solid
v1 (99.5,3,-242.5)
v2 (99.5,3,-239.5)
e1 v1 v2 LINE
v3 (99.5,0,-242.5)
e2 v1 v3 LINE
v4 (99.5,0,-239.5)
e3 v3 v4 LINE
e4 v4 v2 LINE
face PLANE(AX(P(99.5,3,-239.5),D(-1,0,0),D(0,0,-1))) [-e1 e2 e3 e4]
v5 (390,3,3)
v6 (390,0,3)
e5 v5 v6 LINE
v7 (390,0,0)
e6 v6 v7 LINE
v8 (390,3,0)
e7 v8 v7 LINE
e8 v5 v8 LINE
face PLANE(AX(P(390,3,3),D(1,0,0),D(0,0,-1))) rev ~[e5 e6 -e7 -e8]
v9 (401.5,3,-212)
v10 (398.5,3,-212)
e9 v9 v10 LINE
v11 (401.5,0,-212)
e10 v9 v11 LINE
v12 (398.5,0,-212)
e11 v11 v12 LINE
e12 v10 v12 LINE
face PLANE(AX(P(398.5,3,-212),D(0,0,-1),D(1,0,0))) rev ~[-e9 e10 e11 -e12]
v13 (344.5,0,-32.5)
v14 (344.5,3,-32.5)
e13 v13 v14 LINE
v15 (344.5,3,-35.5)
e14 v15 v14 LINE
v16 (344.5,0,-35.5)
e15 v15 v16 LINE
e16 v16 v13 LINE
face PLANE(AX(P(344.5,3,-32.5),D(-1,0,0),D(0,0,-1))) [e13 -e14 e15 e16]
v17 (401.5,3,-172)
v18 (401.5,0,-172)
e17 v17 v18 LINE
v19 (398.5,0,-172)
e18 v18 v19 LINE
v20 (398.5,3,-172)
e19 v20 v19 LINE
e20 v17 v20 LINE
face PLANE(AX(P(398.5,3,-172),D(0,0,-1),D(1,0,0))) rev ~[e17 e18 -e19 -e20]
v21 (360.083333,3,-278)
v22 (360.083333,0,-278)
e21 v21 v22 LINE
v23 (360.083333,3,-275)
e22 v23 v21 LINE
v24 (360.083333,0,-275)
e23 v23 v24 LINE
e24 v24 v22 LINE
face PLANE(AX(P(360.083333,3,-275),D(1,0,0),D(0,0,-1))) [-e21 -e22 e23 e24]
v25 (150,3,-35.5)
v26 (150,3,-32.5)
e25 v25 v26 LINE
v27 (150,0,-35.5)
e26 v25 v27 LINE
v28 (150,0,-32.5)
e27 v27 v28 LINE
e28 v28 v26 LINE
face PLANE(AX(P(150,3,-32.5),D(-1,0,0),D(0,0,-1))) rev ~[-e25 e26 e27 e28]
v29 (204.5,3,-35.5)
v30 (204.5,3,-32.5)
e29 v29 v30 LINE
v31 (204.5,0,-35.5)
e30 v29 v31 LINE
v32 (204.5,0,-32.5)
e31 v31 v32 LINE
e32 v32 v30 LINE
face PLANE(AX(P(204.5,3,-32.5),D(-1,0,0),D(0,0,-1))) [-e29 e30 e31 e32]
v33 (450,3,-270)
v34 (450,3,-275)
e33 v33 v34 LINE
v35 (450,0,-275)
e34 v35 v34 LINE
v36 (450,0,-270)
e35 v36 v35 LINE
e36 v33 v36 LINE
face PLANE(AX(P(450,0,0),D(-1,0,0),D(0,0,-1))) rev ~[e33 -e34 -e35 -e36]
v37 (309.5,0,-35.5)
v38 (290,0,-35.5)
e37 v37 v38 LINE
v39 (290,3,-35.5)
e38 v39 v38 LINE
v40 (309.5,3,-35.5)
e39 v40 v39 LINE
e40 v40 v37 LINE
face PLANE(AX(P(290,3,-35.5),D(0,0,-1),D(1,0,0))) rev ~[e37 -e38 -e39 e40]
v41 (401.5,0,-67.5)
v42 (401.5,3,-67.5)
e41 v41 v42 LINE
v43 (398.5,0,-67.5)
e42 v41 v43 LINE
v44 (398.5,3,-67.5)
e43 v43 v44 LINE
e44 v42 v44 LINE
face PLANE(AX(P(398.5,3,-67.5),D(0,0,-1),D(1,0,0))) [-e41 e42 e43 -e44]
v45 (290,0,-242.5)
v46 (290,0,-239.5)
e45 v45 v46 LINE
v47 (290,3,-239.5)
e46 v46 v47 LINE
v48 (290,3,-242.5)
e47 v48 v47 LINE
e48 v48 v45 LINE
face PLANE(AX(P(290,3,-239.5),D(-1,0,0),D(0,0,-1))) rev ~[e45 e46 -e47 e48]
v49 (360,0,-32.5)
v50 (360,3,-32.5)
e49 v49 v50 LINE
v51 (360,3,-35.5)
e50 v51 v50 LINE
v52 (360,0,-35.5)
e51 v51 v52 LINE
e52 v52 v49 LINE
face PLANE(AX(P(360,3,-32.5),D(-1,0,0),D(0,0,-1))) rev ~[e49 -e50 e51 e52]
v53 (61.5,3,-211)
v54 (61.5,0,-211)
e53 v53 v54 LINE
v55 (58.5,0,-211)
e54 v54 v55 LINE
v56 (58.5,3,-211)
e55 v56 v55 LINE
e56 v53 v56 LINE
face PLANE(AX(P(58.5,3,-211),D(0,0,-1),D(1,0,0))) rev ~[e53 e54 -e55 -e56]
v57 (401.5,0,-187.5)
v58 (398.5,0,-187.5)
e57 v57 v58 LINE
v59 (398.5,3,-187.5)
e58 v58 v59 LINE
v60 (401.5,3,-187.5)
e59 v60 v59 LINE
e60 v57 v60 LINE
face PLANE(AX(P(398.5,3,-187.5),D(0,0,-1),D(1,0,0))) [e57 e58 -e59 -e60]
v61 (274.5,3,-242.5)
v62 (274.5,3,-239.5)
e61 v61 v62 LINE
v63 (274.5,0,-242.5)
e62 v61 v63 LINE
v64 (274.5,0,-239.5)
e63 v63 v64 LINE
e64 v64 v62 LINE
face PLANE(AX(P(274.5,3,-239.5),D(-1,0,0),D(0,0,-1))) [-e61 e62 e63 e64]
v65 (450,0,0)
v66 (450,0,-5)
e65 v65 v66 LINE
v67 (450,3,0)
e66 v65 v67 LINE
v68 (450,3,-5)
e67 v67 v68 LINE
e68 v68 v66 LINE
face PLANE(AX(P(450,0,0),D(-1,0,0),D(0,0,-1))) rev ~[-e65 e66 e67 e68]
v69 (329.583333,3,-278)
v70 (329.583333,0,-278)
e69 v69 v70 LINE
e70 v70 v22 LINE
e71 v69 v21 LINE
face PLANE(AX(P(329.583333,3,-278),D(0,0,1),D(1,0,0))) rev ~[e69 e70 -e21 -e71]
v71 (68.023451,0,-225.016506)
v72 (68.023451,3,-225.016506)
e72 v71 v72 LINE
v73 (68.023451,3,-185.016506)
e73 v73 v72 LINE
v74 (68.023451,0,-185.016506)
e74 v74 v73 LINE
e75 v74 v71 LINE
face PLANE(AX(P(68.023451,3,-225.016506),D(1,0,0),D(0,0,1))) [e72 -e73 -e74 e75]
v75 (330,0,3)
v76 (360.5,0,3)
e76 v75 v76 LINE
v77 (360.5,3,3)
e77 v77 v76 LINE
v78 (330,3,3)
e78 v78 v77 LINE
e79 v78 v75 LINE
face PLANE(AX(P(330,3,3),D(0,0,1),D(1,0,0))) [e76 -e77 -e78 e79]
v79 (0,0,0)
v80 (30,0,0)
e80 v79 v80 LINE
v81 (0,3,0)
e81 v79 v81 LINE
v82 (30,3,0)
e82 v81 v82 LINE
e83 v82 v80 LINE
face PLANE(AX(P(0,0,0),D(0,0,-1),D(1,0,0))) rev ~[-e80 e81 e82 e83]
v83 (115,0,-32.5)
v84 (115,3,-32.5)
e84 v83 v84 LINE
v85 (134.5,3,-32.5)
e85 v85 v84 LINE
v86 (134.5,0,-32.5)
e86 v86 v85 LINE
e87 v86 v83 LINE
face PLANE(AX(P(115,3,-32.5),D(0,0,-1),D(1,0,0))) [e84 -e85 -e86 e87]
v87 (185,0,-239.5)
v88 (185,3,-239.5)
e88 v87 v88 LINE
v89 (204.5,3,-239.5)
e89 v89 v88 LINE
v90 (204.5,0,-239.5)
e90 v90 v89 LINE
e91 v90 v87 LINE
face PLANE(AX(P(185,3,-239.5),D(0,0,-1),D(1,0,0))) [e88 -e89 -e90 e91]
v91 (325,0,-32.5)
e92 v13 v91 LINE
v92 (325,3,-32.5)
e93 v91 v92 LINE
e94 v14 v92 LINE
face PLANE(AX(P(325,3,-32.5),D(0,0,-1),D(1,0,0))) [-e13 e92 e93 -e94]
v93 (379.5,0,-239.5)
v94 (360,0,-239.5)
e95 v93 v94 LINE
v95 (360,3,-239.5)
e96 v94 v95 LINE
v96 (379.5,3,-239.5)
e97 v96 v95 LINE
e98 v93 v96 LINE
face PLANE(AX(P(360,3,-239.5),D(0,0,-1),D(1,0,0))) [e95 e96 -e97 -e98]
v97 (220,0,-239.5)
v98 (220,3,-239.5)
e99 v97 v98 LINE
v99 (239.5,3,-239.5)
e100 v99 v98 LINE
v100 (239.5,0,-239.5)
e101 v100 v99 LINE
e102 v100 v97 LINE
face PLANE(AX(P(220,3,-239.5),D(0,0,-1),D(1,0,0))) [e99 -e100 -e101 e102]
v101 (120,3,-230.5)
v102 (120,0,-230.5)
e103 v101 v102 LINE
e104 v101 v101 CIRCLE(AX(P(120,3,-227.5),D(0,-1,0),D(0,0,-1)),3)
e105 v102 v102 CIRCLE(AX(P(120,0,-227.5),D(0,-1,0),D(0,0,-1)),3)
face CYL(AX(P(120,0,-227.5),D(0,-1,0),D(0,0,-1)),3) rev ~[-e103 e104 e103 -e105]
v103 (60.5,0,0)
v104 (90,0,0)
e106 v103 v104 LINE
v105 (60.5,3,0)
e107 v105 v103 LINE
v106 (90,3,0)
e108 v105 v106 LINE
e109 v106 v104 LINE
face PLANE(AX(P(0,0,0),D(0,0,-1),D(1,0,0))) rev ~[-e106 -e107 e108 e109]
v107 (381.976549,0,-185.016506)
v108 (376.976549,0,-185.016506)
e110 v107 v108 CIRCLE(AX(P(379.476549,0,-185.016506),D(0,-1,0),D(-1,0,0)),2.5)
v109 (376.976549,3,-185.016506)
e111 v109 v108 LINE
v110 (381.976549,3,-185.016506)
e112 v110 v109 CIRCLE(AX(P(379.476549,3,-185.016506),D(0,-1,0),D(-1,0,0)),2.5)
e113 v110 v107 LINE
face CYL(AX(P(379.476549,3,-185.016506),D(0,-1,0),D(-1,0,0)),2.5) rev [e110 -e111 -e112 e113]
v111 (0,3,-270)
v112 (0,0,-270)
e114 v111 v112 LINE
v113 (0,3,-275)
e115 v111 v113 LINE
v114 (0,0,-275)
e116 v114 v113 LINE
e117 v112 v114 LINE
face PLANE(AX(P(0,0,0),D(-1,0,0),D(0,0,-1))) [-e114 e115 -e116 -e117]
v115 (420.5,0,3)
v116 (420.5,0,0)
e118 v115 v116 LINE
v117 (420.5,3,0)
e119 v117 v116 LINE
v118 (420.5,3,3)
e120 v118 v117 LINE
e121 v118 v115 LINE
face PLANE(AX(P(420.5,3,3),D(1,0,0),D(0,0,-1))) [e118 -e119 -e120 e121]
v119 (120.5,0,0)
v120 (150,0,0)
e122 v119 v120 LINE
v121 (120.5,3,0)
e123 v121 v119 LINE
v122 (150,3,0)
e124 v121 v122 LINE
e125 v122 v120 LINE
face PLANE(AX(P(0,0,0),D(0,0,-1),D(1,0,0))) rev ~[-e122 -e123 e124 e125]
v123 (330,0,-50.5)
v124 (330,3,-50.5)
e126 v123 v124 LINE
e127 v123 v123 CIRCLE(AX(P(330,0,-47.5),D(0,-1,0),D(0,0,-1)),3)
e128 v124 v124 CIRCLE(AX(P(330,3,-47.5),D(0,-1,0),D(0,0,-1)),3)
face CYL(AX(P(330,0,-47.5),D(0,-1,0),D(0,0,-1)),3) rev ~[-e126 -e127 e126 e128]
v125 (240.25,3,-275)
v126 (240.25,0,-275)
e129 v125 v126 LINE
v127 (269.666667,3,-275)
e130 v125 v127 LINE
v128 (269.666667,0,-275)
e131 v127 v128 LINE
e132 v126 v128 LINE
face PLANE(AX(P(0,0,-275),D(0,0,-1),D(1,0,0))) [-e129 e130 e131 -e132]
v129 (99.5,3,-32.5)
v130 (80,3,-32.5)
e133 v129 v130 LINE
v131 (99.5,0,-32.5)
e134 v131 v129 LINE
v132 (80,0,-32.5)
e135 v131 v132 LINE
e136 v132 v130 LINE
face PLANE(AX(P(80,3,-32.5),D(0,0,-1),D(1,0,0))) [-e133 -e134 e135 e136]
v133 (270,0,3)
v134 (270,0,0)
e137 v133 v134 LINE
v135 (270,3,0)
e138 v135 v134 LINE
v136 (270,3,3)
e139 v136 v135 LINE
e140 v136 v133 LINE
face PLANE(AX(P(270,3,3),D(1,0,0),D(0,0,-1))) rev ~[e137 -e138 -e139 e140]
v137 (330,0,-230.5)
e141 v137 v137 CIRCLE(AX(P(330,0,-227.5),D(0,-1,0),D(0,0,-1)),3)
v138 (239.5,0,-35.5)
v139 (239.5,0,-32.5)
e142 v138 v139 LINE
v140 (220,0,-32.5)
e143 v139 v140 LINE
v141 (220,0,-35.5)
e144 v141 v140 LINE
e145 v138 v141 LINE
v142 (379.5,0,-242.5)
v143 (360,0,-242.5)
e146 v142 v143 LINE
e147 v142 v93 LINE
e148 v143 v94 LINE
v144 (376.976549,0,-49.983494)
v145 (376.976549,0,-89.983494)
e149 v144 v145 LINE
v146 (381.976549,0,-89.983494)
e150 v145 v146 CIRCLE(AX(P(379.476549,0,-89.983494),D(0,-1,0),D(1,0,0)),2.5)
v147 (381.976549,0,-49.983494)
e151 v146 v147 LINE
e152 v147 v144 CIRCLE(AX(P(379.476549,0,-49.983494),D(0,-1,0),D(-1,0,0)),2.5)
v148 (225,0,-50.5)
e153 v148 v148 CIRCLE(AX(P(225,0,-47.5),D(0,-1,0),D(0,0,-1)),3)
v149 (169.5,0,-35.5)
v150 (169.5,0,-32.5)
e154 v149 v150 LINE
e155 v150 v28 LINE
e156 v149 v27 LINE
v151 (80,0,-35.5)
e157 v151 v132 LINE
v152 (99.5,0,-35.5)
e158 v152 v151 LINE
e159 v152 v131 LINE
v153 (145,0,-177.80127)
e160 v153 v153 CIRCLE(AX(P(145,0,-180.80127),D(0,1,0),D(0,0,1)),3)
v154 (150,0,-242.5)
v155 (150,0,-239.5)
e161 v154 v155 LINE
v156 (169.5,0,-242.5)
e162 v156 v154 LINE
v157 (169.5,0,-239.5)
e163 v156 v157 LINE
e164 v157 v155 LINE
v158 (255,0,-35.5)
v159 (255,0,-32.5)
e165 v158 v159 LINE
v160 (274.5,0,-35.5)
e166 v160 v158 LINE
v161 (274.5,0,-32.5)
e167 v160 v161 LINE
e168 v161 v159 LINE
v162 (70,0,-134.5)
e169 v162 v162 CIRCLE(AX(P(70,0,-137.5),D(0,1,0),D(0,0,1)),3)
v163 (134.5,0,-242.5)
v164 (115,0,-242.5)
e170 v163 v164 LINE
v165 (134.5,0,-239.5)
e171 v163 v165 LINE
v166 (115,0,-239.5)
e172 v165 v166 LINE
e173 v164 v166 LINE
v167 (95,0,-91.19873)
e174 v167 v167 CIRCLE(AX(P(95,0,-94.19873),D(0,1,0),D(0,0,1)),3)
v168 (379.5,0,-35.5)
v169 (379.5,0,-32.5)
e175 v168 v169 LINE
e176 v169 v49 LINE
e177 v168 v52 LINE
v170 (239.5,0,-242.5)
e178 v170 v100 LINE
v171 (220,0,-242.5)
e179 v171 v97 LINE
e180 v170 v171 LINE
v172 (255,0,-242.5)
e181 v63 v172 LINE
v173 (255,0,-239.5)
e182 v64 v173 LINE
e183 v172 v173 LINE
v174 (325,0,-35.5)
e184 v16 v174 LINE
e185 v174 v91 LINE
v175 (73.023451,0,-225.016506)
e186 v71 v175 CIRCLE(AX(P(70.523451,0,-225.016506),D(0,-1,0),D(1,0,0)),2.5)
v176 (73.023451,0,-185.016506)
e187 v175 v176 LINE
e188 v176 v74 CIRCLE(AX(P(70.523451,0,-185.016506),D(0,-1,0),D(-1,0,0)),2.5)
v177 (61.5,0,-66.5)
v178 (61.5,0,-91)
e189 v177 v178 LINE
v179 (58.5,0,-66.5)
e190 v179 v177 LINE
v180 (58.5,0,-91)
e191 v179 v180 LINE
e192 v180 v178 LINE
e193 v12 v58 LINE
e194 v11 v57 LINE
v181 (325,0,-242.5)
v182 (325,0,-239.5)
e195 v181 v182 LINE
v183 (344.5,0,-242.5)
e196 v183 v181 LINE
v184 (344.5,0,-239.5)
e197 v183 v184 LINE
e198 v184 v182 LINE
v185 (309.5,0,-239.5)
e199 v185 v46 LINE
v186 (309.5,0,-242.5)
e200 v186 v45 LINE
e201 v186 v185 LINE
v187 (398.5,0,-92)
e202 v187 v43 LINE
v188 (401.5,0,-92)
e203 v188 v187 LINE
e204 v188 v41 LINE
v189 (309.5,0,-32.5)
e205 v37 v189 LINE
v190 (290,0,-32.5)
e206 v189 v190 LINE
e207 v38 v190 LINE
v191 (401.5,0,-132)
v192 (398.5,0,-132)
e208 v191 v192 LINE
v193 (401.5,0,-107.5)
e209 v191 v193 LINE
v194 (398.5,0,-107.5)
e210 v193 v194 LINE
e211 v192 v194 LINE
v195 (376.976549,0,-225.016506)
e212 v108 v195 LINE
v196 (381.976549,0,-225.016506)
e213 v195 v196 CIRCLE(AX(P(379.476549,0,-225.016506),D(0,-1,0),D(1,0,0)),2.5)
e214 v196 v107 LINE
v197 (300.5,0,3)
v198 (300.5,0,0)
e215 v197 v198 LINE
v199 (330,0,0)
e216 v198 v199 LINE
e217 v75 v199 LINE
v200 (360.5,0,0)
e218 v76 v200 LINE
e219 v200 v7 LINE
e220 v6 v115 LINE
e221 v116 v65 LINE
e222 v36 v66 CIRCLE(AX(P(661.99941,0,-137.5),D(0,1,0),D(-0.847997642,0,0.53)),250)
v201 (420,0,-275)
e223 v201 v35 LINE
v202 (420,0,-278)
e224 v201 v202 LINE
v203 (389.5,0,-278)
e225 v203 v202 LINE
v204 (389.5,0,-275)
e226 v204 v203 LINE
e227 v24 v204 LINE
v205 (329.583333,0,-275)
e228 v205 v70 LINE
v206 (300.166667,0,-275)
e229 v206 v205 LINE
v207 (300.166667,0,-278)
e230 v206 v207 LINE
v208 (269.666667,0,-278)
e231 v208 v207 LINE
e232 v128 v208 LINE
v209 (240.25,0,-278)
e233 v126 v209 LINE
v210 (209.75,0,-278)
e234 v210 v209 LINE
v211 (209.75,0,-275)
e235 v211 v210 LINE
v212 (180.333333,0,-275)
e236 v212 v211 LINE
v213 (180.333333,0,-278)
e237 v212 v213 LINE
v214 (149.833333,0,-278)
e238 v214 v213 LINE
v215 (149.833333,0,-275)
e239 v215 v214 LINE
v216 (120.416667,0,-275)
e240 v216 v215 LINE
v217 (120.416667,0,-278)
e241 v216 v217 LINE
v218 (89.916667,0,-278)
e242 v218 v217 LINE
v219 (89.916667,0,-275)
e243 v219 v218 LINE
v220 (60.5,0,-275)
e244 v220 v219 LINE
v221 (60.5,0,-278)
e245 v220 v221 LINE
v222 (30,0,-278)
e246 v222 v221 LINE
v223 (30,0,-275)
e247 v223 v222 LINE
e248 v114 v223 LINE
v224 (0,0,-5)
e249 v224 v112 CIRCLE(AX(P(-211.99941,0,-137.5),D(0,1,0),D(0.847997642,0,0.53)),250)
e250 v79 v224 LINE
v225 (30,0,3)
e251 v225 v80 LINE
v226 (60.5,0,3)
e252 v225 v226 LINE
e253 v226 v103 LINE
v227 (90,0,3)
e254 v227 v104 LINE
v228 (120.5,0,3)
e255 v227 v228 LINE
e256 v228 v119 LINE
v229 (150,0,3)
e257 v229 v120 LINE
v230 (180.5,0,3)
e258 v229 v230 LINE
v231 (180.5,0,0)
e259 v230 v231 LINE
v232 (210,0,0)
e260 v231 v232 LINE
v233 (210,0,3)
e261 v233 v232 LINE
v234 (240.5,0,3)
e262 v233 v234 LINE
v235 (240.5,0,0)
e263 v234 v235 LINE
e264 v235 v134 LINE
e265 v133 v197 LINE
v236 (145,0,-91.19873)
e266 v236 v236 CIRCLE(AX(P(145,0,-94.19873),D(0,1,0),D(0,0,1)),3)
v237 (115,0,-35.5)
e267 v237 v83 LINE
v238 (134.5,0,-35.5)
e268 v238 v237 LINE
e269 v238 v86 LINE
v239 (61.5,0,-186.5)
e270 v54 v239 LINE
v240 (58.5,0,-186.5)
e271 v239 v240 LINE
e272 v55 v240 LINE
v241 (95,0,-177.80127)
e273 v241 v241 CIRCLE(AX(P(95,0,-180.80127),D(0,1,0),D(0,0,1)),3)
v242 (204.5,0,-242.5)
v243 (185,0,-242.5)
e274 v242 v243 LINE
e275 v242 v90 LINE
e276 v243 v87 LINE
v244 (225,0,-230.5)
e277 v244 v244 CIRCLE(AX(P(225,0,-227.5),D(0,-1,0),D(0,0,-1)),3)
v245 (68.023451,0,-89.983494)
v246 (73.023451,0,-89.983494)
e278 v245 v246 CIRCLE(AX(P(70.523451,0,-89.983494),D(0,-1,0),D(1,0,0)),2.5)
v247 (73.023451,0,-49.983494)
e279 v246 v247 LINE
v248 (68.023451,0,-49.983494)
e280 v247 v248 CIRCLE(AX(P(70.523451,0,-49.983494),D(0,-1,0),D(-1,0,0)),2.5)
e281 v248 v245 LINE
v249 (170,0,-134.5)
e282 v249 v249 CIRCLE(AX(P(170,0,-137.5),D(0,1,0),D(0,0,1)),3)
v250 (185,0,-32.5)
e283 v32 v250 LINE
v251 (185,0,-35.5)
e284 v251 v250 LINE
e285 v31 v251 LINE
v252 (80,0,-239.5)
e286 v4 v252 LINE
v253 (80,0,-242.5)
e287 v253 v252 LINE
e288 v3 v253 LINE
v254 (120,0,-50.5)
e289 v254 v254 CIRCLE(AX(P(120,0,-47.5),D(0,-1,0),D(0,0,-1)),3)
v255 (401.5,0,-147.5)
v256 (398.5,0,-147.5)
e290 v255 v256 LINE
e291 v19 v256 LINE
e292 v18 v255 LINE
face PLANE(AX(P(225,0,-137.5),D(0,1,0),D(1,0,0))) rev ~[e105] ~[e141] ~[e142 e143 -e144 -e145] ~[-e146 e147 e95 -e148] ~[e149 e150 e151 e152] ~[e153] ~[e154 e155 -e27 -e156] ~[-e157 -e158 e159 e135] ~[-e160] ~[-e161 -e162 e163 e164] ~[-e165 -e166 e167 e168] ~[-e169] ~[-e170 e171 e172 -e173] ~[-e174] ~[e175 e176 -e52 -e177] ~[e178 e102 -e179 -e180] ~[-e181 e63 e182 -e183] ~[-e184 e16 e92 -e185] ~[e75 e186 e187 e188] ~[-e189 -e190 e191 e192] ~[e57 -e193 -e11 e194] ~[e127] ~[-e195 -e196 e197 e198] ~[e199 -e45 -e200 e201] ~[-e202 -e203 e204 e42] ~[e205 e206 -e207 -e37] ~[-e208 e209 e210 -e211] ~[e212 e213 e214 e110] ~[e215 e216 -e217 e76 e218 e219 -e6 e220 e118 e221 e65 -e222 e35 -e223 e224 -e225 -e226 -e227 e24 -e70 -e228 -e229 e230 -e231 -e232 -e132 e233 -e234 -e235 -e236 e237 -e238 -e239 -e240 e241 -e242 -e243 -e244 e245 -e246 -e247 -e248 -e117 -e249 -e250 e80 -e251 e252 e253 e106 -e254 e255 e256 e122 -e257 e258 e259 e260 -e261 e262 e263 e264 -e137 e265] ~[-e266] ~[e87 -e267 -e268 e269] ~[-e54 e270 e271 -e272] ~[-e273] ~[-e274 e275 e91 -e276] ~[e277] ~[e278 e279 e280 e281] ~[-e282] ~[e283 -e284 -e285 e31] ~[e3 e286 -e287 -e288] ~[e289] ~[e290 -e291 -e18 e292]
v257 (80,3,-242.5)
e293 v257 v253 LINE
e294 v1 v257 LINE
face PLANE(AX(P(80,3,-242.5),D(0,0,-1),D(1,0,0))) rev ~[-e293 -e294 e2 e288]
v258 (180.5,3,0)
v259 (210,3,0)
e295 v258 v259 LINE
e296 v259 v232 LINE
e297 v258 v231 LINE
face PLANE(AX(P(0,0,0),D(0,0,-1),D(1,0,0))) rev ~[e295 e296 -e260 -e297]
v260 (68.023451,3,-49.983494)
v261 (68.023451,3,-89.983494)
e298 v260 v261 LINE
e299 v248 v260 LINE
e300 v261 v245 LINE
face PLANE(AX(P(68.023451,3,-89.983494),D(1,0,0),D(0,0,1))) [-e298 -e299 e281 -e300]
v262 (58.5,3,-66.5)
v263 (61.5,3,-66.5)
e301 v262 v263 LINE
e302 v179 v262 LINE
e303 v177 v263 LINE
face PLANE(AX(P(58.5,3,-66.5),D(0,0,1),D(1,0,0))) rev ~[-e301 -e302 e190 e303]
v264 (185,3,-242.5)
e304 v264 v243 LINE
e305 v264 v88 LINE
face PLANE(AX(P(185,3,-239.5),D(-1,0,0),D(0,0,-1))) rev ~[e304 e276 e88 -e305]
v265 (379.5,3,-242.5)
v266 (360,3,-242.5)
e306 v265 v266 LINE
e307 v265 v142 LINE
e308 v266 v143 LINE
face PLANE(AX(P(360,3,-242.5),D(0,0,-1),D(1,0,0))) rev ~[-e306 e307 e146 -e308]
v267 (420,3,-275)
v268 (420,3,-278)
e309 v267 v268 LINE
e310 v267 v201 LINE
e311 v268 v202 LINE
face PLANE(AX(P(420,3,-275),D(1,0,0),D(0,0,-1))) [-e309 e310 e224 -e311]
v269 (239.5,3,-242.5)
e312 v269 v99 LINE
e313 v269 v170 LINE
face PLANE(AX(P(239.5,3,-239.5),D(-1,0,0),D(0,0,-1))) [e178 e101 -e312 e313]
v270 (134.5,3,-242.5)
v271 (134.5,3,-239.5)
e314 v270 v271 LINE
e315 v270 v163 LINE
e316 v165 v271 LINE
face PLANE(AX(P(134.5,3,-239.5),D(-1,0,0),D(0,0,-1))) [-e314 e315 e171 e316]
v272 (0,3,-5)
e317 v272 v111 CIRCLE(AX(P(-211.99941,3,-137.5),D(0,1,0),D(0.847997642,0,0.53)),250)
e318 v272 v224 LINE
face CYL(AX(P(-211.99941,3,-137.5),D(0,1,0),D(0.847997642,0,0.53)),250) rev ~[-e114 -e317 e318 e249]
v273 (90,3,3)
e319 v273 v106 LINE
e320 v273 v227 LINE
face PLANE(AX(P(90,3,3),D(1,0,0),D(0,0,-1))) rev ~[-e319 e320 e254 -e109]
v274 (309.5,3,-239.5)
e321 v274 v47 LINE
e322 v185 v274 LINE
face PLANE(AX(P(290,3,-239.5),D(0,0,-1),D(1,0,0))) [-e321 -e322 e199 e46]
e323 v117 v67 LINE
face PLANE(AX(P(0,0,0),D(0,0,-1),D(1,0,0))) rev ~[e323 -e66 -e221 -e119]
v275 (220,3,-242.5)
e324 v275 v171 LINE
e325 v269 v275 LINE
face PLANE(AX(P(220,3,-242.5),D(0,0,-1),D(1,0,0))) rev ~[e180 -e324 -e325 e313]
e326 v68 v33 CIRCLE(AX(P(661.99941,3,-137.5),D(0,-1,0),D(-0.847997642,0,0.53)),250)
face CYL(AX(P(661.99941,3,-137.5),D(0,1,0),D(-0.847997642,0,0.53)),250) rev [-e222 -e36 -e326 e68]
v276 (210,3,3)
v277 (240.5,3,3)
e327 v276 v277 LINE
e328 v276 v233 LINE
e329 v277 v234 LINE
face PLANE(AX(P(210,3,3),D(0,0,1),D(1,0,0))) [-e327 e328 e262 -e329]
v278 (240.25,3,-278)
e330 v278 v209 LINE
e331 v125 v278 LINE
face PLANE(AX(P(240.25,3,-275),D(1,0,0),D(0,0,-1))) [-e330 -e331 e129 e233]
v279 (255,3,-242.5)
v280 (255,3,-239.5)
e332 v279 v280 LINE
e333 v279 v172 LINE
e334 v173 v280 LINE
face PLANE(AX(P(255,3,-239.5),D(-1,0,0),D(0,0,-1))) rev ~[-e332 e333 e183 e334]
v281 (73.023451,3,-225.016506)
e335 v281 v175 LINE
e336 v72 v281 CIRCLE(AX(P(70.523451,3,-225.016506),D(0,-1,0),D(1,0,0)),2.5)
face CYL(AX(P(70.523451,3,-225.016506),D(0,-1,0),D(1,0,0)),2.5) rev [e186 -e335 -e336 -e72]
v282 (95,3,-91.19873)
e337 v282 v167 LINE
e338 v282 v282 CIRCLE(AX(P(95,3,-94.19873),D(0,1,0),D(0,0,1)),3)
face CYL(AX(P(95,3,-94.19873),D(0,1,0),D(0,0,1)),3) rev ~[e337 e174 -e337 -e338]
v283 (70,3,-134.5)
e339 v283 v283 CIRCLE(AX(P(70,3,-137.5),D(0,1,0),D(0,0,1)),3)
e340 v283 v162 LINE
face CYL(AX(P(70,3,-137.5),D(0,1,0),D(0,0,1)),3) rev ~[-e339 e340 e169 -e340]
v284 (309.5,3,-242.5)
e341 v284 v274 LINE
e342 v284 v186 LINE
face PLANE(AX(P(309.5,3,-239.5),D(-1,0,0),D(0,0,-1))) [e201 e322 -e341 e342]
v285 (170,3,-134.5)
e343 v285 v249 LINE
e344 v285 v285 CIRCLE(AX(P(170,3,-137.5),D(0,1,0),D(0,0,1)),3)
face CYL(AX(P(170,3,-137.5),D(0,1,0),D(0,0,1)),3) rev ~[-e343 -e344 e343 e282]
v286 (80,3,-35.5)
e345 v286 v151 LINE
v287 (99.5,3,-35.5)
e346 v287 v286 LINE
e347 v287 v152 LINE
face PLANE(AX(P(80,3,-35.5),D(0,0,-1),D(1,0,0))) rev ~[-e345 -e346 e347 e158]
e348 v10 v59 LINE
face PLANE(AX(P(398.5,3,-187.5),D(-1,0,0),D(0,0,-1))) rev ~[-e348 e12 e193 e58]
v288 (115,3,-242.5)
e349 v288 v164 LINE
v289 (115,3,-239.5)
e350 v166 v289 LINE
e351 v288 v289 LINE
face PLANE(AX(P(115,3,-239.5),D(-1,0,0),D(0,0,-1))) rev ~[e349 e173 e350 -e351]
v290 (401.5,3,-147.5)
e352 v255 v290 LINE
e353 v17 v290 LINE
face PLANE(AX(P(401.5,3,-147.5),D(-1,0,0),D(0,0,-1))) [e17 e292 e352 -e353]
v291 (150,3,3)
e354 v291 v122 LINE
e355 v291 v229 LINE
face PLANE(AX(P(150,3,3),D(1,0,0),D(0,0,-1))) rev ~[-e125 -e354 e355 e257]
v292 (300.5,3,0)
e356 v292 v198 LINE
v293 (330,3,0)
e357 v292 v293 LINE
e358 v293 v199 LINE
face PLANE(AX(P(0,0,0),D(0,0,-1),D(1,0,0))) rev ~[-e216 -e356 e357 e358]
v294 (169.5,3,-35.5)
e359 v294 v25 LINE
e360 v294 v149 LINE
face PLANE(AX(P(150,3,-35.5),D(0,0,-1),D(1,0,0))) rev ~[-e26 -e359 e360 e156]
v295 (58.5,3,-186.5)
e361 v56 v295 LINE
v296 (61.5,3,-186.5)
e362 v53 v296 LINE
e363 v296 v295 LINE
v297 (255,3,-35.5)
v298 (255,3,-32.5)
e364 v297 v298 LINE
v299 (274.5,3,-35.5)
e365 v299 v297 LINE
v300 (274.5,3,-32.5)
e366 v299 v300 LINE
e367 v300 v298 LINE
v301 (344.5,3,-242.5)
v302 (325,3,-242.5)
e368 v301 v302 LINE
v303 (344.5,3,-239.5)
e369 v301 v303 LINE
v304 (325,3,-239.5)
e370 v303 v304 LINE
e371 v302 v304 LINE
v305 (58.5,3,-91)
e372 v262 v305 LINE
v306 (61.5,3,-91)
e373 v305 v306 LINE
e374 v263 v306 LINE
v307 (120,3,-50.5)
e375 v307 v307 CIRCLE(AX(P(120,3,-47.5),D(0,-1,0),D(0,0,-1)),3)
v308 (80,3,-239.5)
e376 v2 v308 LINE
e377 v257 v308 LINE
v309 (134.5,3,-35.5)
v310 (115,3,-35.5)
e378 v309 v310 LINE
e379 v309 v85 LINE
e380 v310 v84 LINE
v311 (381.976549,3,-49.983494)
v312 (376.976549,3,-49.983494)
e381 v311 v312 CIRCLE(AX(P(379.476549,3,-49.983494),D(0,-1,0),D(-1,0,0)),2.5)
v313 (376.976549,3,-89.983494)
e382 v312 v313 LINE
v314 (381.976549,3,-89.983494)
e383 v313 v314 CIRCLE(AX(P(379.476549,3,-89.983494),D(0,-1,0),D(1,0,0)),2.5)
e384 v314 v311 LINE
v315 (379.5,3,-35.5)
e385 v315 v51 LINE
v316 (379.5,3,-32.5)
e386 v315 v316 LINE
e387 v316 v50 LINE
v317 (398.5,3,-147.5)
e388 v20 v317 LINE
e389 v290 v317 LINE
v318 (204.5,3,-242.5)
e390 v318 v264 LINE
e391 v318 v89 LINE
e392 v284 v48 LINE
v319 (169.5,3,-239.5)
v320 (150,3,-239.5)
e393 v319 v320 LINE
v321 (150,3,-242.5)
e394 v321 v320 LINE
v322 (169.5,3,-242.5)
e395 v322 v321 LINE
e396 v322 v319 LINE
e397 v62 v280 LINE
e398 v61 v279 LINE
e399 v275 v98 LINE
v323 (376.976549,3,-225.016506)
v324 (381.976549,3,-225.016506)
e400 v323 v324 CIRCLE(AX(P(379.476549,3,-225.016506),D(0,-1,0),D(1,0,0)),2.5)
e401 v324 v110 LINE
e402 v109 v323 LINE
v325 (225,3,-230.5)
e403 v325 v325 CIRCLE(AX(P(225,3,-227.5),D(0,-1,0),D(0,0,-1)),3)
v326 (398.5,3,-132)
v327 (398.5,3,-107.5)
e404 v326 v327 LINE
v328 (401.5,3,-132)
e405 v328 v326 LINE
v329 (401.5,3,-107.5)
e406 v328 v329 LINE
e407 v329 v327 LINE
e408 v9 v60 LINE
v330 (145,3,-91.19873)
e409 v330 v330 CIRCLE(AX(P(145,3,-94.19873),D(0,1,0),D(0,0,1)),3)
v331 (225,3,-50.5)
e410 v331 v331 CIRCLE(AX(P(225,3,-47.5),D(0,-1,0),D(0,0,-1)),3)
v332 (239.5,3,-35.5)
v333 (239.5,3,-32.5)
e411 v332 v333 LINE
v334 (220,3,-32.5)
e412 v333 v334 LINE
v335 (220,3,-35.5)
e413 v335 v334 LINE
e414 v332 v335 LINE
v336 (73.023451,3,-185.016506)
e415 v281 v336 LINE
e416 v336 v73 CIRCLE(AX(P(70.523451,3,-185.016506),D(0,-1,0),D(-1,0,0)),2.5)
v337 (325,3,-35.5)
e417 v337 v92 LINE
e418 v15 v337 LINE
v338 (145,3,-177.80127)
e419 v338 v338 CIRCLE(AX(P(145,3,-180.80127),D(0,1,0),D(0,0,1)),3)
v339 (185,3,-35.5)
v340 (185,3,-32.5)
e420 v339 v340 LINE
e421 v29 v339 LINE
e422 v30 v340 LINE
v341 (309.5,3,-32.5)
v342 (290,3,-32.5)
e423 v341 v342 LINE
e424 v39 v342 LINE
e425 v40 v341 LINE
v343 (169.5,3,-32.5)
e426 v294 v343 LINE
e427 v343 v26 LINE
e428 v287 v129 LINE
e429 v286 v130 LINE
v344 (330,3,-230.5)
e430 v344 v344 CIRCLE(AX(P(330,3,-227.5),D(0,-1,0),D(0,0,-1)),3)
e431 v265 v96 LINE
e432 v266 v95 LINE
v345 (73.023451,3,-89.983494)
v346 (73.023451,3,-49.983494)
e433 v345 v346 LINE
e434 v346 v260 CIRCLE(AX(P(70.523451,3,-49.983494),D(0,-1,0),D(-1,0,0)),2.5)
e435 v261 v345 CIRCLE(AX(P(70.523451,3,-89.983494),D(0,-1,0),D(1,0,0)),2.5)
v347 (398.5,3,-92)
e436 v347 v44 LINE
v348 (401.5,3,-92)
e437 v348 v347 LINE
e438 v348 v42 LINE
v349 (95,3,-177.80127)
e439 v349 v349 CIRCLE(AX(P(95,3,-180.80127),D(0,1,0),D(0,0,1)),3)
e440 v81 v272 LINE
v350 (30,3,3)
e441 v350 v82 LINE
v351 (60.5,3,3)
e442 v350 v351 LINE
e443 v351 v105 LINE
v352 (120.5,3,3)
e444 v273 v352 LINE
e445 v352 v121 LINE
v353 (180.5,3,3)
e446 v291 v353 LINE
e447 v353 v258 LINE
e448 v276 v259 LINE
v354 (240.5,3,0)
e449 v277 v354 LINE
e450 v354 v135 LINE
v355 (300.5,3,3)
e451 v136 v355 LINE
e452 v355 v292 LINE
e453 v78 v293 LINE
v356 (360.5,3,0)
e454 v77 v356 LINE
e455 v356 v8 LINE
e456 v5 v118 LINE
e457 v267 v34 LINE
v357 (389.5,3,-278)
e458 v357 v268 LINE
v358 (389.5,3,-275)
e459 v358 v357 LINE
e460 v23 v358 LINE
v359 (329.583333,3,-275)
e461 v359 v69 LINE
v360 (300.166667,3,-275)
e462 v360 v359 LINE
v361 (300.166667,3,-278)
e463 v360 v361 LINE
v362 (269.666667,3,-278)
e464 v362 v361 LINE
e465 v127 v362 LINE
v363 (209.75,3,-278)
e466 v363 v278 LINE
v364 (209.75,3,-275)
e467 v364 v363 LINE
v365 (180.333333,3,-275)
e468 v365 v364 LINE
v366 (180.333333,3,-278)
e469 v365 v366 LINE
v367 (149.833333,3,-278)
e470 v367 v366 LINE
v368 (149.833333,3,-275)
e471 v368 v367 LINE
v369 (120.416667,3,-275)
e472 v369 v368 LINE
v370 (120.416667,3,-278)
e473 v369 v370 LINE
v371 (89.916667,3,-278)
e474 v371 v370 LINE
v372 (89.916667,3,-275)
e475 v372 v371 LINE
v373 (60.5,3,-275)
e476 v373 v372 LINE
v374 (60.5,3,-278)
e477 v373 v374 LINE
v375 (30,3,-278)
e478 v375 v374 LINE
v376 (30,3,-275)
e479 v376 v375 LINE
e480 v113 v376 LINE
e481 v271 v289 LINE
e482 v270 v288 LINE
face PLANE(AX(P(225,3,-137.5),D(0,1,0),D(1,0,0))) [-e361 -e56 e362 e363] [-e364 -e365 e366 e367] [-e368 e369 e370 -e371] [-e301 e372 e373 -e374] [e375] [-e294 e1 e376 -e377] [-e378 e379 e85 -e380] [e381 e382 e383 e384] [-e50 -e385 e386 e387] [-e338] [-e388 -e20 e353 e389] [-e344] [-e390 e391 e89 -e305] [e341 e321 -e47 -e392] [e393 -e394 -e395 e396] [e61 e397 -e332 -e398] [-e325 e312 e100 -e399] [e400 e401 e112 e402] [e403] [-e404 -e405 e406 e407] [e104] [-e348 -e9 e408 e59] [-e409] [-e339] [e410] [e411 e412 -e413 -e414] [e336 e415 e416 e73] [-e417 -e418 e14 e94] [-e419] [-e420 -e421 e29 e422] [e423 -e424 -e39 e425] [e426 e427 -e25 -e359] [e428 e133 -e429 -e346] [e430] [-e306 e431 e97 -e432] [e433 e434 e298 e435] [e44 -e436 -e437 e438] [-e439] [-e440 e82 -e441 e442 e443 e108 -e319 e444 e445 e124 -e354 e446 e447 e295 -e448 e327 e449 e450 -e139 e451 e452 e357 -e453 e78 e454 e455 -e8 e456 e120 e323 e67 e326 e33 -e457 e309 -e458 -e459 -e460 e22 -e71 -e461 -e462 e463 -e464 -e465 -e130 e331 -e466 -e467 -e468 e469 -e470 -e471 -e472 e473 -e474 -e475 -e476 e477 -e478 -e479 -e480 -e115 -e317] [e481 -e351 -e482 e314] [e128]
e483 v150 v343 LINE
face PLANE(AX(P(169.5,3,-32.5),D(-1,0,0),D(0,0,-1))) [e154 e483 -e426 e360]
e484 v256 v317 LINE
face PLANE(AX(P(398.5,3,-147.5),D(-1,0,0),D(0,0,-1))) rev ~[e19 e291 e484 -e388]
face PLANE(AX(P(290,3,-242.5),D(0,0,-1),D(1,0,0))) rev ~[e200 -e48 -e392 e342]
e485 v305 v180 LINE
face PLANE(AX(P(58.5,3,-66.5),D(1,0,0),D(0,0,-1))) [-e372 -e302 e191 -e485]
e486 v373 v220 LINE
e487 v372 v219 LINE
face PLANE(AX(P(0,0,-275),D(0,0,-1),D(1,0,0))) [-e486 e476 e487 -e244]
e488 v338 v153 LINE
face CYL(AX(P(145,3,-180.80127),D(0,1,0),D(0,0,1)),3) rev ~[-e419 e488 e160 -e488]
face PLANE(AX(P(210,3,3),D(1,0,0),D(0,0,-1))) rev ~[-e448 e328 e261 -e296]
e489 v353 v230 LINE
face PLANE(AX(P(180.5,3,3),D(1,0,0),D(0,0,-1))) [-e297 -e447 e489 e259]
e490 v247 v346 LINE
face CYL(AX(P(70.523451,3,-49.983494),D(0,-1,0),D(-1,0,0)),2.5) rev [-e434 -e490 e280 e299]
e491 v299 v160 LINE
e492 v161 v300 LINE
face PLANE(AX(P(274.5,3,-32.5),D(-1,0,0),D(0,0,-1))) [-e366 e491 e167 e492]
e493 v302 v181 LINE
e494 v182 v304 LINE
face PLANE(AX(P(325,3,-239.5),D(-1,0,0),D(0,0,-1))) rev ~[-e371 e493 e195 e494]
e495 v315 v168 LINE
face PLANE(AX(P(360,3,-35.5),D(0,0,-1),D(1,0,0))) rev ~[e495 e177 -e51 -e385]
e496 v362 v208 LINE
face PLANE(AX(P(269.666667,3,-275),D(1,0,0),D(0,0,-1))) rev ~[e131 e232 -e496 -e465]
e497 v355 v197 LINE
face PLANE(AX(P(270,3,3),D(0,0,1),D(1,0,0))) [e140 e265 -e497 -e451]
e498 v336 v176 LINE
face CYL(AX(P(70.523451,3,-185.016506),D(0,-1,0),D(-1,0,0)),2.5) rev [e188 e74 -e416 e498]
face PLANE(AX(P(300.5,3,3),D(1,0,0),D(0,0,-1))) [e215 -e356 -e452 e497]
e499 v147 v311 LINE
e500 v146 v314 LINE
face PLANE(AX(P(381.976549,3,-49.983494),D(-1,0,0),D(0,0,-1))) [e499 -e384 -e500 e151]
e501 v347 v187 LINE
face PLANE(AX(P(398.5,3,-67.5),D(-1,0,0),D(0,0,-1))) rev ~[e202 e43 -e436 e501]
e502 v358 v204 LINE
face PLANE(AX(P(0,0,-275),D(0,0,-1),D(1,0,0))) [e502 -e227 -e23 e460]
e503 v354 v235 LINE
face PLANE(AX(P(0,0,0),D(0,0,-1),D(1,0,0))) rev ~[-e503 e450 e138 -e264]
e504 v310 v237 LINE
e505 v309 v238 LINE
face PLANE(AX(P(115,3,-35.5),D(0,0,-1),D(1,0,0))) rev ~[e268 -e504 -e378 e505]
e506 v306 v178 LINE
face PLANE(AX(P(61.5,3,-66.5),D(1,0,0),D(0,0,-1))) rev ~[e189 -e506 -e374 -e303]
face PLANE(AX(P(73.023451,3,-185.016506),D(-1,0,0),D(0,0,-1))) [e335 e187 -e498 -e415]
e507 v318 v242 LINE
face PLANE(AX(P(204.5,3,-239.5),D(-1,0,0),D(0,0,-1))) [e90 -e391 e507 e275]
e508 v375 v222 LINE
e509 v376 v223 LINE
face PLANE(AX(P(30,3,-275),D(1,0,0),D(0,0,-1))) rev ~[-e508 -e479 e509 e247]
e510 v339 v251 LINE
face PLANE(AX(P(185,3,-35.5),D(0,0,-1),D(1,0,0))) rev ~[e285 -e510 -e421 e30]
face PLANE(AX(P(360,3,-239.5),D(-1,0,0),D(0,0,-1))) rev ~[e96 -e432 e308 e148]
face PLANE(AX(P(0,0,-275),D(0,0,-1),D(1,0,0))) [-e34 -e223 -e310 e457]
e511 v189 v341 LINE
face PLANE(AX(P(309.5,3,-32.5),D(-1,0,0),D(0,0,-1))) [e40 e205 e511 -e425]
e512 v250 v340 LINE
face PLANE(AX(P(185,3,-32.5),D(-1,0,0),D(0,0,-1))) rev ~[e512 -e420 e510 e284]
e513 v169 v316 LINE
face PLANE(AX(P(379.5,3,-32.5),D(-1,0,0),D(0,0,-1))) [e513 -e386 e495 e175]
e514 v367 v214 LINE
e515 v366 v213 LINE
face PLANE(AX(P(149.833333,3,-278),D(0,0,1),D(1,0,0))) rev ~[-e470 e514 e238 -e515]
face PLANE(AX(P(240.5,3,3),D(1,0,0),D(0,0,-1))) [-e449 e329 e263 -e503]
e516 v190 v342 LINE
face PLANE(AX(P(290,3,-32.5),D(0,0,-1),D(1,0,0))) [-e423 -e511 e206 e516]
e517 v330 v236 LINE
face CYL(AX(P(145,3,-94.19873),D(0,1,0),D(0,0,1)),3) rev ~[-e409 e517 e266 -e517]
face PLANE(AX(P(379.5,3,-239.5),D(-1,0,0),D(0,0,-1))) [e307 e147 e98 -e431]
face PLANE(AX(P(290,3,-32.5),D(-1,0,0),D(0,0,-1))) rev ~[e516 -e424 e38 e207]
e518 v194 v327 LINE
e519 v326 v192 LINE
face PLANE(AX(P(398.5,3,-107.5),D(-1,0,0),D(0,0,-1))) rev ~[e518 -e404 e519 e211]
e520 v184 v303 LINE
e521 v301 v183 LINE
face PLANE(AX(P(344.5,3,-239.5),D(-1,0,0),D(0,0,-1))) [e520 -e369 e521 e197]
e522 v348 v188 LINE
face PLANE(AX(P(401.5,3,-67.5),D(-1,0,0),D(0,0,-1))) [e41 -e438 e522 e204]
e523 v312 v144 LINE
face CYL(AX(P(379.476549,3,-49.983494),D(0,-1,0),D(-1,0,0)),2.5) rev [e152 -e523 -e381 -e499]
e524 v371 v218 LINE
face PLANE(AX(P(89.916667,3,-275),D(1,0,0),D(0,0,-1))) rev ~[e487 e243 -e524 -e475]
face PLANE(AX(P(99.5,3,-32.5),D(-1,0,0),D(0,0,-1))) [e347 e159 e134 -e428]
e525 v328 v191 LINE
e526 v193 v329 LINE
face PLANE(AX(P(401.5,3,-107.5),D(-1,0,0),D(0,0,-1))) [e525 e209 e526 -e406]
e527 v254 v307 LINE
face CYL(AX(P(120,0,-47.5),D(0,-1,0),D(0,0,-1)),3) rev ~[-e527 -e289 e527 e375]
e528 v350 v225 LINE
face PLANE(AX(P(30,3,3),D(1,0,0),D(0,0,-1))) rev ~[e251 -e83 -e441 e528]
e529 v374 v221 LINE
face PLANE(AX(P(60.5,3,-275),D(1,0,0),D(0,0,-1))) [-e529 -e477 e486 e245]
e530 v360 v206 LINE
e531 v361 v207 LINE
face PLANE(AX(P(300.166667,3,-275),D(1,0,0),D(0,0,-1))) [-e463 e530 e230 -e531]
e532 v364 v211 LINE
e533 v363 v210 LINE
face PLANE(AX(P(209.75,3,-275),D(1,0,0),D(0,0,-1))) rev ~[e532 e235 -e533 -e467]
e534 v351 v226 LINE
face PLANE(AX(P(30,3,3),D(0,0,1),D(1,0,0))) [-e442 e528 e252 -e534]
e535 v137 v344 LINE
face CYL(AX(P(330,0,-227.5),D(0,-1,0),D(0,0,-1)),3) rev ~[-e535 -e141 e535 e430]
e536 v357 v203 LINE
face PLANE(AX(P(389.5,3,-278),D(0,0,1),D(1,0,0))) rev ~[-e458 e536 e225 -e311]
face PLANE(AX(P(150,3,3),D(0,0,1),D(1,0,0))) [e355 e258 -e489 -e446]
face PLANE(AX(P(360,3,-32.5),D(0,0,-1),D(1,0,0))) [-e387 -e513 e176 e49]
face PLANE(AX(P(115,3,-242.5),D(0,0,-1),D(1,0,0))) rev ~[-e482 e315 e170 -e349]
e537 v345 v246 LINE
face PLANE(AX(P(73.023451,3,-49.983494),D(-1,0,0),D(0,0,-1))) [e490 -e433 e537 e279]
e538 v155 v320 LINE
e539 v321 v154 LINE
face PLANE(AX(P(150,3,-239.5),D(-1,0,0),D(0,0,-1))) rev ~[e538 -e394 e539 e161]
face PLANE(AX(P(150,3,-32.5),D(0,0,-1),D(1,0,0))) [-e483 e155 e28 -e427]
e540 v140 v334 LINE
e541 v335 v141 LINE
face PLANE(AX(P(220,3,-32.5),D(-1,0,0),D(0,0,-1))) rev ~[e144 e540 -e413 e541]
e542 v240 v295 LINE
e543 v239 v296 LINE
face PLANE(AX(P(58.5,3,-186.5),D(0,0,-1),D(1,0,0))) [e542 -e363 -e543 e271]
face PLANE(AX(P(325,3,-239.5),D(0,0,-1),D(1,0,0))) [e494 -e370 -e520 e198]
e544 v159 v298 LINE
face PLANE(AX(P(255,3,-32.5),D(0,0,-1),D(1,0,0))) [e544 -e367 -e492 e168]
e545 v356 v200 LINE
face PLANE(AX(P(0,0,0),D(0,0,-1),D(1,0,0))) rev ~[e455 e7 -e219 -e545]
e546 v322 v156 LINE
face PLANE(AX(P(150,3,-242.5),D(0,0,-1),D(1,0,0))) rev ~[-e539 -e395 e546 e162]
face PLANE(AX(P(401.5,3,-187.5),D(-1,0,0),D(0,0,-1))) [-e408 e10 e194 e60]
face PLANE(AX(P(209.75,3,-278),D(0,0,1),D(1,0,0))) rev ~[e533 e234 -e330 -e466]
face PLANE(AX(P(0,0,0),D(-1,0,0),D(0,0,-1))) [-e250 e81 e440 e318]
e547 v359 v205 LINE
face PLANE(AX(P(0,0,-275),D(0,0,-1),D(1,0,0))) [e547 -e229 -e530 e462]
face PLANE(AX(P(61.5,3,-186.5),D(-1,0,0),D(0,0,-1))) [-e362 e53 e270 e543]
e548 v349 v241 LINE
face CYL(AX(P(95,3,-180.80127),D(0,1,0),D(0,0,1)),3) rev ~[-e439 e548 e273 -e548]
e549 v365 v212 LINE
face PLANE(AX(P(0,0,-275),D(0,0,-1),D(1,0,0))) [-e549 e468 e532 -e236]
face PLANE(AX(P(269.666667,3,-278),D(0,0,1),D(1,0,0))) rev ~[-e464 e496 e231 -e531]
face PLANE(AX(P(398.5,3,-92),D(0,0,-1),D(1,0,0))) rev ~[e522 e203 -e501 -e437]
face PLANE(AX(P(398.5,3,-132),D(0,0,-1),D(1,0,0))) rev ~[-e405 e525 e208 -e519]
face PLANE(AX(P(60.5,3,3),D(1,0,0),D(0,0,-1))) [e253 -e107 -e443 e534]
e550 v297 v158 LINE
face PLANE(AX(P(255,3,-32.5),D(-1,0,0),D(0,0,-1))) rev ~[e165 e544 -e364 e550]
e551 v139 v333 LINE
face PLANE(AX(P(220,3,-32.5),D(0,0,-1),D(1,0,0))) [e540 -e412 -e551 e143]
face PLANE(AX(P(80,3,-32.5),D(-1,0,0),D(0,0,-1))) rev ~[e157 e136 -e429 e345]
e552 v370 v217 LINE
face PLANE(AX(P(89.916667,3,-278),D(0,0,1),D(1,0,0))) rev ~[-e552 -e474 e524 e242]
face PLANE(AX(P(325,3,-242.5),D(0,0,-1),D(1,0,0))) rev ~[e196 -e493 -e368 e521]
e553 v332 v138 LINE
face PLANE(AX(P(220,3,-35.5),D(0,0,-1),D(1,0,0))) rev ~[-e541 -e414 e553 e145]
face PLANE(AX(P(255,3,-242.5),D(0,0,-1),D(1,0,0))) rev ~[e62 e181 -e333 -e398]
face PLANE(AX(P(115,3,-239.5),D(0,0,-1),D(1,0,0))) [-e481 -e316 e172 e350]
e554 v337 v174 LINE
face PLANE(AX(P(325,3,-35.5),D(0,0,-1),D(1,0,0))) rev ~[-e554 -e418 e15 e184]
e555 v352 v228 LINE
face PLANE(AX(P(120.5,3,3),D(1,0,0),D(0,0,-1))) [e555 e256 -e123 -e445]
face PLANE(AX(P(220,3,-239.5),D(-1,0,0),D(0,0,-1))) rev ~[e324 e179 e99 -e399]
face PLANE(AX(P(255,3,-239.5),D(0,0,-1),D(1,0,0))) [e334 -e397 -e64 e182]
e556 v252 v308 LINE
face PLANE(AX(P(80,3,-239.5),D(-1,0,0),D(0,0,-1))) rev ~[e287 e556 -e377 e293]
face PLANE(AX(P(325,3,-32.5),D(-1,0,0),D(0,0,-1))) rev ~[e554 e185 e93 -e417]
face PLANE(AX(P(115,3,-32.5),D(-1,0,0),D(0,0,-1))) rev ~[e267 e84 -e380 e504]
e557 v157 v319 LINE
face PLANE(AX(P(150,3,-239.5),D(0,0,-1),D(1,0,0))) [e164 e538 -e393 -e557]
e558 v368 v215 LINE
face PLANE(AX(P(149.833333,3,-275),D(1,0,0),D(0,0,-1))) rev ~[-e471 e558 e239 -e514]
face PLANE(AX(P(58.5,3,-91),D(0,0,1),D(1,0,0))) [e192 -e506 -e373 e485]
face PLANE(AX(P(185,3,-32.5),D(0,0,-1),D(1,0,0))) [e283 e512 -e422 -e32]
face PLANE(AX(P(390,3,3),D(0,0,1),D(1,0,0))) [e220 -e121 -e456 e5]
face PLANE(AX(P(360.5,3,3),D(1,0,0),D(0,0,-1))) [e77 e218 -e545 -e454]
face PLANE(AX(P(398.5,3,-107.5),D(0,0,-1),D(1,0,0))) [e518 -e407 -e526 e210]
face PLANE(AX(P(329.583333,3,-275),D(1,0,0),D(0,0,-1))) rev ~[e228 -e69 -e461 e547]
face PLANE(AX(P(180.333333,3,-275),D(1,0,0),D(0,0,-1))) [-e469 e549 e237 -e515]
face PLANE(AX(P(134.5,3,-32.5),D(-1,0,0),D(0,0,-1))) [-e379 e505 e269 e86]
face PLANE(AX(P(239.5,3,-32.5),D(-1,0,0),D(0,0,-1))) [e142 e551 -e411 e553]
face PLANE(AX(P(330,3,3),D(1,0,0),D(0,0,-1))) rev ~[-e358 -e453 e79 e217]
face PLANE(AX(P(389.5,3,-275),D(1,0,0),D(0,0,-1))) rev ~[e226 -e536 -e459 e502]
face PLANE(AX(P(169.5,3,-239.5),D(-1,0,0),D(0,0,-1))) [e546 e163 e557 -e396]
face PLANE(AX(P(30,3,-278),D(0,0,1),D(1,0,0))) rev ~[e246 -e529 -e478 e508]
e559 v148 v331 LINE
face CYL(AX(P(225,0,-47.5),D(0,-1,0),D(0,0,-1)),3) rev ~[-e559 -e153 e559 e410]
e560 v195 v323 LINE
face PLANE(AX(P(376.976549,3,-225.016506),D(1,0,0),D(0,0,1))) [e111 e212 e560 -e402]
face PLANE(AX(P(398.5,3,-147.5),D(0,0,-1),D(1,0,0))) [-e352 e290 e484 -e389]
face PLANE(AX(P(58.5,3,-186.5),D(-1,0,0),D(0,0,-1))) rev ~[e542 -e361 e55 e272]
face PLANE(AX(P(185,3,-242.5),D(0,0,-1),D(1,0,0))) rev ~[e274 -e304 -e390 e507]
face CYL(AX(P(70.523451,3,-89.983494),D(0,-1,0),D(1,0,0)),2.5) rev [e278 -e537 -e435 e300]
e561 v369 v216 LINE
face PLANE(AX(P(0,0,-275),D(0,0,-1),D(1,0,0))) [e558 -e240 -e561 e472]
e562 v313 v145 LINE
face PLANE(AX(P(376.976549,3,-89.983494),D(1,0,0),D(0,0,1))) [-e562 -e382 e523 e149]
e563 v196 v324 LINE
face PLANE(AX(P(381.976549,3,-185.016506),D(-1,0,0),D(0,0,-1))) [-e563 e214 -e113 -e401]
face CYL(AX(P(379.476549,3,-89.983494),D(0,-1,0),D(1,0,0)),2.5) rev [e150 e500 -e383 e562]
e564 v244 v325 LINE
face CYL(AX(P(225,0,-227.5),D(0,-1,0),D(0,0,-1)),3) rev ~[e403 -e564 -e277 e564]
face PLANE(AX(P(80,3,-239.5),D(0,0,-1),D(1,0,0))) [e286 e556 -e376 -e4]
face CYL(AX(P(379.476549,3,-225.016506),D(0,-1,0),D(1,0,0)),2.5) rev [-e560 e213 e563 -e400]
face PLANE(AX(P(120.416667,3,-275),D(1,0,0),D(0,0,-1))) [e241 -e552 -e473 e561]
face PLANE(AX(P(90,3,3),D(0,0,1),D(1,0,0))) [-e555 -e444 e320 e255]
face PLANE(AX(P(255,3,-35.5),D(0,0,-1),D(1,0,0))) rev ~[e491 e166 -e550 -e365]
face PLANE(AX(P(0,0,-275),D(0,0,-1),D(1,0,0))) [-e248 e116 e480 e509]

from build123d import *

# Parameters (mm, degrees)
SKETCH2_W           = 450
SKETCH2_H           = 275
BOSS_EXTRUDE1_DEPTH = 3
SKETCH18_R          = 3
CUT_EXTRUDE8_DEPTH  = 15.5
SKETCH19_R          = 3
CUT_EXTRUDE9_DEPTH  = 10
SKETCH20_W          = 19.5
SKETCH20_H          = 3
SKETCH20_W_2        = 3
SKETCH20_H_2        = 24.5
CUT_EXTRUDE10_DEPTH = 4.5
SKETCH23_W          = 30.5
SKETCH23_H          = 3
BOSS_EXTRUDE3_DEPTH = 3
CUT_EXTRUDE18_DEPTH = 253


with BuildPart() as part:
    # Sketch2 → Boss-Extrude1 (new body)
    with BuildSketch(Plane(origin=(0, 0, 0), x_dir=(1, 0, 0), z_dir=(0, 1, 0))):
        with Locations((225, 137.5)):
            Rectangle(SKETCH2_W, SKETCH2_H)
    extrude(amount=BOSS_EXTRUDE1_DEPTH)

    # Sketch18 → Cut-Extrude8 (cut, symmetric)
    with BuildSketch(Plane.XZ):
        with Locations(Location((120, -47.5, 0), (0, 0, 270))):
            Circle(SKETCH18_R)
        with Locations(Location((225, -47.5, 0), (0, 0, 270))):
            Circle(SKETCH18_R)
        with Locations(Location((330, -47.5, 0), (0, 0, 270))):
            Circle(SKETCH18_R)
        with Locations(Location((330, -227.5, 0), (0, 0, 270))):
            Circle(SKETCH18_R)
        with Locations(Location((225, -227.5, 0), (0, 0, 270))):
            Circle(SKETCH18_R)
        with Locations(Location((120, -227.5, 0), (0, 0, 270))):
            Circle(SKETCH18_R)
    extrude(amount=CUT_EXTRUDE8_DEPTH, both=True, mode=Mode.SUBTRACT)

    # Sketch19 → Cut-Extrude9 (cut)
    with BuildSketch(Plane(origin=(0, 3, 0), x_dir=(1, 0, 0), z_dir=(0, 1, 0))):
        with Locations(Location((70, 137.5, 0), (0, 0, 270))):
            Circle(SKETCH19_R)
        with Locations(Location((95, 180.801270189, 0), (0, 0, 270))):
            Circle(SKETCH19_R)
        with Locations(Location((145, 180.801270189, 0), (0, 0, 270))):
            Circle(SKETCH19_R)
        with Locations(Location((170, 137.5, 0), (0, 0, 270))):
            Circle(SKETCH19_R)
        with Locations(Location((145, 94.198729811, 0), (0, 0, 270))):
            Circle(SKETCH19_R)
        with Locations(Location((95, 94.198729811, 0), (0, 0, 270))):
            Circle(SKETCH19_R)
    extrude(amount=-CUT_EXTRUDE9_DEPTH, mode=Mode.SUBTRACT)

    # Sketch20 → Cut-Extrude10 (cut, symmetric)
    with BuildSketch(Plane(origin=(0, 3, 0), x_dir=(1, 0, 0), z_dir=(0, 1, 0))):
        with Locations((124.75, 241)):
            Rectangle(SKETCH20_W, SKETCH20_H)
        with BuildLine():
            Line((68.023450962, 89.983493695), (68.023450962, 49.983493695))
            ThreePointArc((68.023450962, 49.983493695), (70.523450962, 47.483493695), (73.023450962, 49.983493695))
            Line((73.023450962, 49.983493695), (73.023450962, 89.983493695))
            ThreePointArc((73.023450962, 89.983493695), (70.523450962, 92.483493695), (68.023450962, 89.983493695))
        make_face()
        with BuildLine():
            ThreePointArc((73.023450962, 225.016506305), (70.523450962, 227.516506305), (68.023450962, 225.016506305))
            Line((68.023450962, 225.016506305), (68.023450962, 185.016506305))
            ThreePointArc((68.023450962, 185.016506305), (70.523450962, 182.516506305), (73.023450962, 185.016506305))
            Line((73.023450962, 185.016506305), (73.023450962, 225.016506305))
        make_face()
        with BuildLine():
            Line((381.976549038, 185.016506305), (381.976549038, 225.016506305))
            ThreePointArc((381.976549038, 225.016506305), (379.476549038, 227.516506305), (376.976549038, 225.016506305))
            Line((376.976549038, 225.016506305), (376.976549038, 185.016506305))
            ThreePointArc((376.976549038, 185.016506305), (379.476549038, 182.516506305), (381.976549038, 185.016506305))
        make_face()
        with BuildLine():
            ThreePointArc((376.976549038, 49.983493695), (379.476549038, 47.483493695), (381.976549038, 49.983493695))
            Line((381.976549038, 49.983493695), (381.976549038, 89.983493695))
            ThreePointArc((381.976549038, 89.983493695), (379.476549038, 92.483493695), (376.976549038, 89.983493695))
            Line((376.976549038, 89.983493695), (376.976549038, 49.983493695))
        make_face()
        with Locations((400, 199.75)):
            Rectangle(SKETCH20_W_2, SKETCH20_H_2)
        with Locations((89.75, 241)):
            Rectangle(SKETCH20_W, SKETCH20_H)
        with Locations((159.75, 241)):
            Rectangle(SKETCH20_W, SKETCH20_H)
        with Locations((194.75, 241)):
            Rectangle(SKETCH20_W, SKETCH20_H)
        with Locations((229.75, 241)):
            Rectangle(SKETCH20_W, SKETCH20_H)
        with Locations((264.75, 241)):
            Rectangle(SKETCH20_W, SKETCH20_H)
        with Locations((299.75, 241)):
            Rectangle(SKETCH20_W, SKETCH20_H)
        with Locations((334.75, 241)):
            Rectangle(SKETCH20_W, SKETCH20_H)
        with Locations((369.75, 241)):
            Rectangle(SKETCH20_W, SKETCH20_H)
        with Locations((400, 159.75)):
            Rectangle(SKETCH20_W_2, SKETCH20_H_2)
        with Locations((400, 119.75)):
            Rectangle(SKETCH20_W_2, SKETCH20_H_2)
        with Locations((400, 79.75)):
            Rectangle(SKETCH20_W_2, SKETCH20_H_2)
        with Locations((264.75, 34)):
            Rectangle(SKETCH20_W, SKETCH20_H)
        with Locations((229.75, 34)):
            Rectangle(SKETCH20_W, SKETCH20_H)
        with Locations((194.75, 34)):
            Rectangle(SKETCH20_W, SKETCH20_H)
        with Locations((159.75, 34)):
            Rectangle(SKETCH20_W, SKETCH20_H)
        with Locations((124.75, 34)):
            Rectangle(SKETCH20_W, SKETCH20_H)
        with Locations((89.75, 34)):
            Rectangle(SKETCH20_W, SKETCH20_H)
        with Locations((369.75, 34)):
            Rectangle(SKETCH20_W, SKETCH20_H)
        with Locations((334.75, 34)):
            Rectangle(SKETCH20_W, SKETCH20_H)
        with Locations((299.75, 34)):
            Rectangle(SKETCH20_W, SKETCH20_H)
        with Locations((60, 198.75)):
            Rectangle(SKETCH20_W_2, SKETCH20_H_2)
        with Locations((60, 78.75)):
            Rectangle(SKETCH20_W_2, SKETCH20_H_2)
    extrude(amount=CUT_EXTRUDE10_DEPTH, both=True, mode=Mode.SUBTRACT)

    # Sketch23 → Boss-Extrude3 (add)
    with BuildSketch(Plane(origin=(0, 3, 0), x_dir=(1, 0, 0), z_dir=(0, 1, 0))):
        with Locations((45.25, 276.5)):
            Rectangle(SKETCH23_W, SKETCH23_H)
        with Locations((105.166666667, 276.5)):
            Rectangle(SKETCH23_W, SKETCH23_H)
        with Locations((165.083333333, 276.5)):
            Rectangle(SKETCH23_W, SKETCH23_H)
        with Locations((225, 276.5)):
            Rectangle(SKETCH23_W, SKETCH23_H)
        with Locations((284.916666667, 276.5)):
            Rectangle(SKETCH23_W, SKETCH23_H)
        with Locations((344.833333333, 276.5)):
            Rectangle(SKETCH23_W, SKETCH23_H)
        with Locations((404.75, 276.5)):
            Rectangle(SKETCH23_W, SKETCH23_H)
        with Locations((405.25, -1.5)):
            Rectangle(SKETCH23_W, SKETCH23_H)
        with Locations((345.25, -1.5)):
            Rectangle(SKETCH23_W, SKETCH23_H)
        with Locations((285.25, -1.5)):
            Rectangle(SKETCH23_W, SKETCH23_H)
        with Locations((225.25, -1.5)):
            Rectangle(SKETCH23_W, SKETCH23_H)
        with Locations((165.25, -1.5)):
            Rectangle(SKETCH23_W, SKETCH23_H)
        with Locations((105.25, -1.5)):
            Rectangle(SKETCH23_W, SKETCH23_H)
        with Locations((45.25, -1.5)):
            Rectangle(SKETCH23_W, SKETCH23_H)
    extrude(amount=-BOSS_EXTRUDE3_DEPTH)

    # Sketch28 → Cut-Extrude18 (cut)
    with BuildSketch(Plane(origin=(0, 3, 0), x_dir=(1, 0, 0), z_dir=(0, 1, 0))):
        with BuildLine():
            Line((0, 270), (0, 5))
            ThreePointArc((0, 5), (38.000589623, 137.5), (0, 270))
        make_face()
        with BuildLine():
            Line((450, 270), (450, 5))
            ThreePointArc((450, 5), (411.999410377, 137.5), (450, 270))
        make_face()
    extrude(amount=-CUT_EXTRUDE18_DEPTH, mode=Mode.SUBTRACT)


solid = part.part
